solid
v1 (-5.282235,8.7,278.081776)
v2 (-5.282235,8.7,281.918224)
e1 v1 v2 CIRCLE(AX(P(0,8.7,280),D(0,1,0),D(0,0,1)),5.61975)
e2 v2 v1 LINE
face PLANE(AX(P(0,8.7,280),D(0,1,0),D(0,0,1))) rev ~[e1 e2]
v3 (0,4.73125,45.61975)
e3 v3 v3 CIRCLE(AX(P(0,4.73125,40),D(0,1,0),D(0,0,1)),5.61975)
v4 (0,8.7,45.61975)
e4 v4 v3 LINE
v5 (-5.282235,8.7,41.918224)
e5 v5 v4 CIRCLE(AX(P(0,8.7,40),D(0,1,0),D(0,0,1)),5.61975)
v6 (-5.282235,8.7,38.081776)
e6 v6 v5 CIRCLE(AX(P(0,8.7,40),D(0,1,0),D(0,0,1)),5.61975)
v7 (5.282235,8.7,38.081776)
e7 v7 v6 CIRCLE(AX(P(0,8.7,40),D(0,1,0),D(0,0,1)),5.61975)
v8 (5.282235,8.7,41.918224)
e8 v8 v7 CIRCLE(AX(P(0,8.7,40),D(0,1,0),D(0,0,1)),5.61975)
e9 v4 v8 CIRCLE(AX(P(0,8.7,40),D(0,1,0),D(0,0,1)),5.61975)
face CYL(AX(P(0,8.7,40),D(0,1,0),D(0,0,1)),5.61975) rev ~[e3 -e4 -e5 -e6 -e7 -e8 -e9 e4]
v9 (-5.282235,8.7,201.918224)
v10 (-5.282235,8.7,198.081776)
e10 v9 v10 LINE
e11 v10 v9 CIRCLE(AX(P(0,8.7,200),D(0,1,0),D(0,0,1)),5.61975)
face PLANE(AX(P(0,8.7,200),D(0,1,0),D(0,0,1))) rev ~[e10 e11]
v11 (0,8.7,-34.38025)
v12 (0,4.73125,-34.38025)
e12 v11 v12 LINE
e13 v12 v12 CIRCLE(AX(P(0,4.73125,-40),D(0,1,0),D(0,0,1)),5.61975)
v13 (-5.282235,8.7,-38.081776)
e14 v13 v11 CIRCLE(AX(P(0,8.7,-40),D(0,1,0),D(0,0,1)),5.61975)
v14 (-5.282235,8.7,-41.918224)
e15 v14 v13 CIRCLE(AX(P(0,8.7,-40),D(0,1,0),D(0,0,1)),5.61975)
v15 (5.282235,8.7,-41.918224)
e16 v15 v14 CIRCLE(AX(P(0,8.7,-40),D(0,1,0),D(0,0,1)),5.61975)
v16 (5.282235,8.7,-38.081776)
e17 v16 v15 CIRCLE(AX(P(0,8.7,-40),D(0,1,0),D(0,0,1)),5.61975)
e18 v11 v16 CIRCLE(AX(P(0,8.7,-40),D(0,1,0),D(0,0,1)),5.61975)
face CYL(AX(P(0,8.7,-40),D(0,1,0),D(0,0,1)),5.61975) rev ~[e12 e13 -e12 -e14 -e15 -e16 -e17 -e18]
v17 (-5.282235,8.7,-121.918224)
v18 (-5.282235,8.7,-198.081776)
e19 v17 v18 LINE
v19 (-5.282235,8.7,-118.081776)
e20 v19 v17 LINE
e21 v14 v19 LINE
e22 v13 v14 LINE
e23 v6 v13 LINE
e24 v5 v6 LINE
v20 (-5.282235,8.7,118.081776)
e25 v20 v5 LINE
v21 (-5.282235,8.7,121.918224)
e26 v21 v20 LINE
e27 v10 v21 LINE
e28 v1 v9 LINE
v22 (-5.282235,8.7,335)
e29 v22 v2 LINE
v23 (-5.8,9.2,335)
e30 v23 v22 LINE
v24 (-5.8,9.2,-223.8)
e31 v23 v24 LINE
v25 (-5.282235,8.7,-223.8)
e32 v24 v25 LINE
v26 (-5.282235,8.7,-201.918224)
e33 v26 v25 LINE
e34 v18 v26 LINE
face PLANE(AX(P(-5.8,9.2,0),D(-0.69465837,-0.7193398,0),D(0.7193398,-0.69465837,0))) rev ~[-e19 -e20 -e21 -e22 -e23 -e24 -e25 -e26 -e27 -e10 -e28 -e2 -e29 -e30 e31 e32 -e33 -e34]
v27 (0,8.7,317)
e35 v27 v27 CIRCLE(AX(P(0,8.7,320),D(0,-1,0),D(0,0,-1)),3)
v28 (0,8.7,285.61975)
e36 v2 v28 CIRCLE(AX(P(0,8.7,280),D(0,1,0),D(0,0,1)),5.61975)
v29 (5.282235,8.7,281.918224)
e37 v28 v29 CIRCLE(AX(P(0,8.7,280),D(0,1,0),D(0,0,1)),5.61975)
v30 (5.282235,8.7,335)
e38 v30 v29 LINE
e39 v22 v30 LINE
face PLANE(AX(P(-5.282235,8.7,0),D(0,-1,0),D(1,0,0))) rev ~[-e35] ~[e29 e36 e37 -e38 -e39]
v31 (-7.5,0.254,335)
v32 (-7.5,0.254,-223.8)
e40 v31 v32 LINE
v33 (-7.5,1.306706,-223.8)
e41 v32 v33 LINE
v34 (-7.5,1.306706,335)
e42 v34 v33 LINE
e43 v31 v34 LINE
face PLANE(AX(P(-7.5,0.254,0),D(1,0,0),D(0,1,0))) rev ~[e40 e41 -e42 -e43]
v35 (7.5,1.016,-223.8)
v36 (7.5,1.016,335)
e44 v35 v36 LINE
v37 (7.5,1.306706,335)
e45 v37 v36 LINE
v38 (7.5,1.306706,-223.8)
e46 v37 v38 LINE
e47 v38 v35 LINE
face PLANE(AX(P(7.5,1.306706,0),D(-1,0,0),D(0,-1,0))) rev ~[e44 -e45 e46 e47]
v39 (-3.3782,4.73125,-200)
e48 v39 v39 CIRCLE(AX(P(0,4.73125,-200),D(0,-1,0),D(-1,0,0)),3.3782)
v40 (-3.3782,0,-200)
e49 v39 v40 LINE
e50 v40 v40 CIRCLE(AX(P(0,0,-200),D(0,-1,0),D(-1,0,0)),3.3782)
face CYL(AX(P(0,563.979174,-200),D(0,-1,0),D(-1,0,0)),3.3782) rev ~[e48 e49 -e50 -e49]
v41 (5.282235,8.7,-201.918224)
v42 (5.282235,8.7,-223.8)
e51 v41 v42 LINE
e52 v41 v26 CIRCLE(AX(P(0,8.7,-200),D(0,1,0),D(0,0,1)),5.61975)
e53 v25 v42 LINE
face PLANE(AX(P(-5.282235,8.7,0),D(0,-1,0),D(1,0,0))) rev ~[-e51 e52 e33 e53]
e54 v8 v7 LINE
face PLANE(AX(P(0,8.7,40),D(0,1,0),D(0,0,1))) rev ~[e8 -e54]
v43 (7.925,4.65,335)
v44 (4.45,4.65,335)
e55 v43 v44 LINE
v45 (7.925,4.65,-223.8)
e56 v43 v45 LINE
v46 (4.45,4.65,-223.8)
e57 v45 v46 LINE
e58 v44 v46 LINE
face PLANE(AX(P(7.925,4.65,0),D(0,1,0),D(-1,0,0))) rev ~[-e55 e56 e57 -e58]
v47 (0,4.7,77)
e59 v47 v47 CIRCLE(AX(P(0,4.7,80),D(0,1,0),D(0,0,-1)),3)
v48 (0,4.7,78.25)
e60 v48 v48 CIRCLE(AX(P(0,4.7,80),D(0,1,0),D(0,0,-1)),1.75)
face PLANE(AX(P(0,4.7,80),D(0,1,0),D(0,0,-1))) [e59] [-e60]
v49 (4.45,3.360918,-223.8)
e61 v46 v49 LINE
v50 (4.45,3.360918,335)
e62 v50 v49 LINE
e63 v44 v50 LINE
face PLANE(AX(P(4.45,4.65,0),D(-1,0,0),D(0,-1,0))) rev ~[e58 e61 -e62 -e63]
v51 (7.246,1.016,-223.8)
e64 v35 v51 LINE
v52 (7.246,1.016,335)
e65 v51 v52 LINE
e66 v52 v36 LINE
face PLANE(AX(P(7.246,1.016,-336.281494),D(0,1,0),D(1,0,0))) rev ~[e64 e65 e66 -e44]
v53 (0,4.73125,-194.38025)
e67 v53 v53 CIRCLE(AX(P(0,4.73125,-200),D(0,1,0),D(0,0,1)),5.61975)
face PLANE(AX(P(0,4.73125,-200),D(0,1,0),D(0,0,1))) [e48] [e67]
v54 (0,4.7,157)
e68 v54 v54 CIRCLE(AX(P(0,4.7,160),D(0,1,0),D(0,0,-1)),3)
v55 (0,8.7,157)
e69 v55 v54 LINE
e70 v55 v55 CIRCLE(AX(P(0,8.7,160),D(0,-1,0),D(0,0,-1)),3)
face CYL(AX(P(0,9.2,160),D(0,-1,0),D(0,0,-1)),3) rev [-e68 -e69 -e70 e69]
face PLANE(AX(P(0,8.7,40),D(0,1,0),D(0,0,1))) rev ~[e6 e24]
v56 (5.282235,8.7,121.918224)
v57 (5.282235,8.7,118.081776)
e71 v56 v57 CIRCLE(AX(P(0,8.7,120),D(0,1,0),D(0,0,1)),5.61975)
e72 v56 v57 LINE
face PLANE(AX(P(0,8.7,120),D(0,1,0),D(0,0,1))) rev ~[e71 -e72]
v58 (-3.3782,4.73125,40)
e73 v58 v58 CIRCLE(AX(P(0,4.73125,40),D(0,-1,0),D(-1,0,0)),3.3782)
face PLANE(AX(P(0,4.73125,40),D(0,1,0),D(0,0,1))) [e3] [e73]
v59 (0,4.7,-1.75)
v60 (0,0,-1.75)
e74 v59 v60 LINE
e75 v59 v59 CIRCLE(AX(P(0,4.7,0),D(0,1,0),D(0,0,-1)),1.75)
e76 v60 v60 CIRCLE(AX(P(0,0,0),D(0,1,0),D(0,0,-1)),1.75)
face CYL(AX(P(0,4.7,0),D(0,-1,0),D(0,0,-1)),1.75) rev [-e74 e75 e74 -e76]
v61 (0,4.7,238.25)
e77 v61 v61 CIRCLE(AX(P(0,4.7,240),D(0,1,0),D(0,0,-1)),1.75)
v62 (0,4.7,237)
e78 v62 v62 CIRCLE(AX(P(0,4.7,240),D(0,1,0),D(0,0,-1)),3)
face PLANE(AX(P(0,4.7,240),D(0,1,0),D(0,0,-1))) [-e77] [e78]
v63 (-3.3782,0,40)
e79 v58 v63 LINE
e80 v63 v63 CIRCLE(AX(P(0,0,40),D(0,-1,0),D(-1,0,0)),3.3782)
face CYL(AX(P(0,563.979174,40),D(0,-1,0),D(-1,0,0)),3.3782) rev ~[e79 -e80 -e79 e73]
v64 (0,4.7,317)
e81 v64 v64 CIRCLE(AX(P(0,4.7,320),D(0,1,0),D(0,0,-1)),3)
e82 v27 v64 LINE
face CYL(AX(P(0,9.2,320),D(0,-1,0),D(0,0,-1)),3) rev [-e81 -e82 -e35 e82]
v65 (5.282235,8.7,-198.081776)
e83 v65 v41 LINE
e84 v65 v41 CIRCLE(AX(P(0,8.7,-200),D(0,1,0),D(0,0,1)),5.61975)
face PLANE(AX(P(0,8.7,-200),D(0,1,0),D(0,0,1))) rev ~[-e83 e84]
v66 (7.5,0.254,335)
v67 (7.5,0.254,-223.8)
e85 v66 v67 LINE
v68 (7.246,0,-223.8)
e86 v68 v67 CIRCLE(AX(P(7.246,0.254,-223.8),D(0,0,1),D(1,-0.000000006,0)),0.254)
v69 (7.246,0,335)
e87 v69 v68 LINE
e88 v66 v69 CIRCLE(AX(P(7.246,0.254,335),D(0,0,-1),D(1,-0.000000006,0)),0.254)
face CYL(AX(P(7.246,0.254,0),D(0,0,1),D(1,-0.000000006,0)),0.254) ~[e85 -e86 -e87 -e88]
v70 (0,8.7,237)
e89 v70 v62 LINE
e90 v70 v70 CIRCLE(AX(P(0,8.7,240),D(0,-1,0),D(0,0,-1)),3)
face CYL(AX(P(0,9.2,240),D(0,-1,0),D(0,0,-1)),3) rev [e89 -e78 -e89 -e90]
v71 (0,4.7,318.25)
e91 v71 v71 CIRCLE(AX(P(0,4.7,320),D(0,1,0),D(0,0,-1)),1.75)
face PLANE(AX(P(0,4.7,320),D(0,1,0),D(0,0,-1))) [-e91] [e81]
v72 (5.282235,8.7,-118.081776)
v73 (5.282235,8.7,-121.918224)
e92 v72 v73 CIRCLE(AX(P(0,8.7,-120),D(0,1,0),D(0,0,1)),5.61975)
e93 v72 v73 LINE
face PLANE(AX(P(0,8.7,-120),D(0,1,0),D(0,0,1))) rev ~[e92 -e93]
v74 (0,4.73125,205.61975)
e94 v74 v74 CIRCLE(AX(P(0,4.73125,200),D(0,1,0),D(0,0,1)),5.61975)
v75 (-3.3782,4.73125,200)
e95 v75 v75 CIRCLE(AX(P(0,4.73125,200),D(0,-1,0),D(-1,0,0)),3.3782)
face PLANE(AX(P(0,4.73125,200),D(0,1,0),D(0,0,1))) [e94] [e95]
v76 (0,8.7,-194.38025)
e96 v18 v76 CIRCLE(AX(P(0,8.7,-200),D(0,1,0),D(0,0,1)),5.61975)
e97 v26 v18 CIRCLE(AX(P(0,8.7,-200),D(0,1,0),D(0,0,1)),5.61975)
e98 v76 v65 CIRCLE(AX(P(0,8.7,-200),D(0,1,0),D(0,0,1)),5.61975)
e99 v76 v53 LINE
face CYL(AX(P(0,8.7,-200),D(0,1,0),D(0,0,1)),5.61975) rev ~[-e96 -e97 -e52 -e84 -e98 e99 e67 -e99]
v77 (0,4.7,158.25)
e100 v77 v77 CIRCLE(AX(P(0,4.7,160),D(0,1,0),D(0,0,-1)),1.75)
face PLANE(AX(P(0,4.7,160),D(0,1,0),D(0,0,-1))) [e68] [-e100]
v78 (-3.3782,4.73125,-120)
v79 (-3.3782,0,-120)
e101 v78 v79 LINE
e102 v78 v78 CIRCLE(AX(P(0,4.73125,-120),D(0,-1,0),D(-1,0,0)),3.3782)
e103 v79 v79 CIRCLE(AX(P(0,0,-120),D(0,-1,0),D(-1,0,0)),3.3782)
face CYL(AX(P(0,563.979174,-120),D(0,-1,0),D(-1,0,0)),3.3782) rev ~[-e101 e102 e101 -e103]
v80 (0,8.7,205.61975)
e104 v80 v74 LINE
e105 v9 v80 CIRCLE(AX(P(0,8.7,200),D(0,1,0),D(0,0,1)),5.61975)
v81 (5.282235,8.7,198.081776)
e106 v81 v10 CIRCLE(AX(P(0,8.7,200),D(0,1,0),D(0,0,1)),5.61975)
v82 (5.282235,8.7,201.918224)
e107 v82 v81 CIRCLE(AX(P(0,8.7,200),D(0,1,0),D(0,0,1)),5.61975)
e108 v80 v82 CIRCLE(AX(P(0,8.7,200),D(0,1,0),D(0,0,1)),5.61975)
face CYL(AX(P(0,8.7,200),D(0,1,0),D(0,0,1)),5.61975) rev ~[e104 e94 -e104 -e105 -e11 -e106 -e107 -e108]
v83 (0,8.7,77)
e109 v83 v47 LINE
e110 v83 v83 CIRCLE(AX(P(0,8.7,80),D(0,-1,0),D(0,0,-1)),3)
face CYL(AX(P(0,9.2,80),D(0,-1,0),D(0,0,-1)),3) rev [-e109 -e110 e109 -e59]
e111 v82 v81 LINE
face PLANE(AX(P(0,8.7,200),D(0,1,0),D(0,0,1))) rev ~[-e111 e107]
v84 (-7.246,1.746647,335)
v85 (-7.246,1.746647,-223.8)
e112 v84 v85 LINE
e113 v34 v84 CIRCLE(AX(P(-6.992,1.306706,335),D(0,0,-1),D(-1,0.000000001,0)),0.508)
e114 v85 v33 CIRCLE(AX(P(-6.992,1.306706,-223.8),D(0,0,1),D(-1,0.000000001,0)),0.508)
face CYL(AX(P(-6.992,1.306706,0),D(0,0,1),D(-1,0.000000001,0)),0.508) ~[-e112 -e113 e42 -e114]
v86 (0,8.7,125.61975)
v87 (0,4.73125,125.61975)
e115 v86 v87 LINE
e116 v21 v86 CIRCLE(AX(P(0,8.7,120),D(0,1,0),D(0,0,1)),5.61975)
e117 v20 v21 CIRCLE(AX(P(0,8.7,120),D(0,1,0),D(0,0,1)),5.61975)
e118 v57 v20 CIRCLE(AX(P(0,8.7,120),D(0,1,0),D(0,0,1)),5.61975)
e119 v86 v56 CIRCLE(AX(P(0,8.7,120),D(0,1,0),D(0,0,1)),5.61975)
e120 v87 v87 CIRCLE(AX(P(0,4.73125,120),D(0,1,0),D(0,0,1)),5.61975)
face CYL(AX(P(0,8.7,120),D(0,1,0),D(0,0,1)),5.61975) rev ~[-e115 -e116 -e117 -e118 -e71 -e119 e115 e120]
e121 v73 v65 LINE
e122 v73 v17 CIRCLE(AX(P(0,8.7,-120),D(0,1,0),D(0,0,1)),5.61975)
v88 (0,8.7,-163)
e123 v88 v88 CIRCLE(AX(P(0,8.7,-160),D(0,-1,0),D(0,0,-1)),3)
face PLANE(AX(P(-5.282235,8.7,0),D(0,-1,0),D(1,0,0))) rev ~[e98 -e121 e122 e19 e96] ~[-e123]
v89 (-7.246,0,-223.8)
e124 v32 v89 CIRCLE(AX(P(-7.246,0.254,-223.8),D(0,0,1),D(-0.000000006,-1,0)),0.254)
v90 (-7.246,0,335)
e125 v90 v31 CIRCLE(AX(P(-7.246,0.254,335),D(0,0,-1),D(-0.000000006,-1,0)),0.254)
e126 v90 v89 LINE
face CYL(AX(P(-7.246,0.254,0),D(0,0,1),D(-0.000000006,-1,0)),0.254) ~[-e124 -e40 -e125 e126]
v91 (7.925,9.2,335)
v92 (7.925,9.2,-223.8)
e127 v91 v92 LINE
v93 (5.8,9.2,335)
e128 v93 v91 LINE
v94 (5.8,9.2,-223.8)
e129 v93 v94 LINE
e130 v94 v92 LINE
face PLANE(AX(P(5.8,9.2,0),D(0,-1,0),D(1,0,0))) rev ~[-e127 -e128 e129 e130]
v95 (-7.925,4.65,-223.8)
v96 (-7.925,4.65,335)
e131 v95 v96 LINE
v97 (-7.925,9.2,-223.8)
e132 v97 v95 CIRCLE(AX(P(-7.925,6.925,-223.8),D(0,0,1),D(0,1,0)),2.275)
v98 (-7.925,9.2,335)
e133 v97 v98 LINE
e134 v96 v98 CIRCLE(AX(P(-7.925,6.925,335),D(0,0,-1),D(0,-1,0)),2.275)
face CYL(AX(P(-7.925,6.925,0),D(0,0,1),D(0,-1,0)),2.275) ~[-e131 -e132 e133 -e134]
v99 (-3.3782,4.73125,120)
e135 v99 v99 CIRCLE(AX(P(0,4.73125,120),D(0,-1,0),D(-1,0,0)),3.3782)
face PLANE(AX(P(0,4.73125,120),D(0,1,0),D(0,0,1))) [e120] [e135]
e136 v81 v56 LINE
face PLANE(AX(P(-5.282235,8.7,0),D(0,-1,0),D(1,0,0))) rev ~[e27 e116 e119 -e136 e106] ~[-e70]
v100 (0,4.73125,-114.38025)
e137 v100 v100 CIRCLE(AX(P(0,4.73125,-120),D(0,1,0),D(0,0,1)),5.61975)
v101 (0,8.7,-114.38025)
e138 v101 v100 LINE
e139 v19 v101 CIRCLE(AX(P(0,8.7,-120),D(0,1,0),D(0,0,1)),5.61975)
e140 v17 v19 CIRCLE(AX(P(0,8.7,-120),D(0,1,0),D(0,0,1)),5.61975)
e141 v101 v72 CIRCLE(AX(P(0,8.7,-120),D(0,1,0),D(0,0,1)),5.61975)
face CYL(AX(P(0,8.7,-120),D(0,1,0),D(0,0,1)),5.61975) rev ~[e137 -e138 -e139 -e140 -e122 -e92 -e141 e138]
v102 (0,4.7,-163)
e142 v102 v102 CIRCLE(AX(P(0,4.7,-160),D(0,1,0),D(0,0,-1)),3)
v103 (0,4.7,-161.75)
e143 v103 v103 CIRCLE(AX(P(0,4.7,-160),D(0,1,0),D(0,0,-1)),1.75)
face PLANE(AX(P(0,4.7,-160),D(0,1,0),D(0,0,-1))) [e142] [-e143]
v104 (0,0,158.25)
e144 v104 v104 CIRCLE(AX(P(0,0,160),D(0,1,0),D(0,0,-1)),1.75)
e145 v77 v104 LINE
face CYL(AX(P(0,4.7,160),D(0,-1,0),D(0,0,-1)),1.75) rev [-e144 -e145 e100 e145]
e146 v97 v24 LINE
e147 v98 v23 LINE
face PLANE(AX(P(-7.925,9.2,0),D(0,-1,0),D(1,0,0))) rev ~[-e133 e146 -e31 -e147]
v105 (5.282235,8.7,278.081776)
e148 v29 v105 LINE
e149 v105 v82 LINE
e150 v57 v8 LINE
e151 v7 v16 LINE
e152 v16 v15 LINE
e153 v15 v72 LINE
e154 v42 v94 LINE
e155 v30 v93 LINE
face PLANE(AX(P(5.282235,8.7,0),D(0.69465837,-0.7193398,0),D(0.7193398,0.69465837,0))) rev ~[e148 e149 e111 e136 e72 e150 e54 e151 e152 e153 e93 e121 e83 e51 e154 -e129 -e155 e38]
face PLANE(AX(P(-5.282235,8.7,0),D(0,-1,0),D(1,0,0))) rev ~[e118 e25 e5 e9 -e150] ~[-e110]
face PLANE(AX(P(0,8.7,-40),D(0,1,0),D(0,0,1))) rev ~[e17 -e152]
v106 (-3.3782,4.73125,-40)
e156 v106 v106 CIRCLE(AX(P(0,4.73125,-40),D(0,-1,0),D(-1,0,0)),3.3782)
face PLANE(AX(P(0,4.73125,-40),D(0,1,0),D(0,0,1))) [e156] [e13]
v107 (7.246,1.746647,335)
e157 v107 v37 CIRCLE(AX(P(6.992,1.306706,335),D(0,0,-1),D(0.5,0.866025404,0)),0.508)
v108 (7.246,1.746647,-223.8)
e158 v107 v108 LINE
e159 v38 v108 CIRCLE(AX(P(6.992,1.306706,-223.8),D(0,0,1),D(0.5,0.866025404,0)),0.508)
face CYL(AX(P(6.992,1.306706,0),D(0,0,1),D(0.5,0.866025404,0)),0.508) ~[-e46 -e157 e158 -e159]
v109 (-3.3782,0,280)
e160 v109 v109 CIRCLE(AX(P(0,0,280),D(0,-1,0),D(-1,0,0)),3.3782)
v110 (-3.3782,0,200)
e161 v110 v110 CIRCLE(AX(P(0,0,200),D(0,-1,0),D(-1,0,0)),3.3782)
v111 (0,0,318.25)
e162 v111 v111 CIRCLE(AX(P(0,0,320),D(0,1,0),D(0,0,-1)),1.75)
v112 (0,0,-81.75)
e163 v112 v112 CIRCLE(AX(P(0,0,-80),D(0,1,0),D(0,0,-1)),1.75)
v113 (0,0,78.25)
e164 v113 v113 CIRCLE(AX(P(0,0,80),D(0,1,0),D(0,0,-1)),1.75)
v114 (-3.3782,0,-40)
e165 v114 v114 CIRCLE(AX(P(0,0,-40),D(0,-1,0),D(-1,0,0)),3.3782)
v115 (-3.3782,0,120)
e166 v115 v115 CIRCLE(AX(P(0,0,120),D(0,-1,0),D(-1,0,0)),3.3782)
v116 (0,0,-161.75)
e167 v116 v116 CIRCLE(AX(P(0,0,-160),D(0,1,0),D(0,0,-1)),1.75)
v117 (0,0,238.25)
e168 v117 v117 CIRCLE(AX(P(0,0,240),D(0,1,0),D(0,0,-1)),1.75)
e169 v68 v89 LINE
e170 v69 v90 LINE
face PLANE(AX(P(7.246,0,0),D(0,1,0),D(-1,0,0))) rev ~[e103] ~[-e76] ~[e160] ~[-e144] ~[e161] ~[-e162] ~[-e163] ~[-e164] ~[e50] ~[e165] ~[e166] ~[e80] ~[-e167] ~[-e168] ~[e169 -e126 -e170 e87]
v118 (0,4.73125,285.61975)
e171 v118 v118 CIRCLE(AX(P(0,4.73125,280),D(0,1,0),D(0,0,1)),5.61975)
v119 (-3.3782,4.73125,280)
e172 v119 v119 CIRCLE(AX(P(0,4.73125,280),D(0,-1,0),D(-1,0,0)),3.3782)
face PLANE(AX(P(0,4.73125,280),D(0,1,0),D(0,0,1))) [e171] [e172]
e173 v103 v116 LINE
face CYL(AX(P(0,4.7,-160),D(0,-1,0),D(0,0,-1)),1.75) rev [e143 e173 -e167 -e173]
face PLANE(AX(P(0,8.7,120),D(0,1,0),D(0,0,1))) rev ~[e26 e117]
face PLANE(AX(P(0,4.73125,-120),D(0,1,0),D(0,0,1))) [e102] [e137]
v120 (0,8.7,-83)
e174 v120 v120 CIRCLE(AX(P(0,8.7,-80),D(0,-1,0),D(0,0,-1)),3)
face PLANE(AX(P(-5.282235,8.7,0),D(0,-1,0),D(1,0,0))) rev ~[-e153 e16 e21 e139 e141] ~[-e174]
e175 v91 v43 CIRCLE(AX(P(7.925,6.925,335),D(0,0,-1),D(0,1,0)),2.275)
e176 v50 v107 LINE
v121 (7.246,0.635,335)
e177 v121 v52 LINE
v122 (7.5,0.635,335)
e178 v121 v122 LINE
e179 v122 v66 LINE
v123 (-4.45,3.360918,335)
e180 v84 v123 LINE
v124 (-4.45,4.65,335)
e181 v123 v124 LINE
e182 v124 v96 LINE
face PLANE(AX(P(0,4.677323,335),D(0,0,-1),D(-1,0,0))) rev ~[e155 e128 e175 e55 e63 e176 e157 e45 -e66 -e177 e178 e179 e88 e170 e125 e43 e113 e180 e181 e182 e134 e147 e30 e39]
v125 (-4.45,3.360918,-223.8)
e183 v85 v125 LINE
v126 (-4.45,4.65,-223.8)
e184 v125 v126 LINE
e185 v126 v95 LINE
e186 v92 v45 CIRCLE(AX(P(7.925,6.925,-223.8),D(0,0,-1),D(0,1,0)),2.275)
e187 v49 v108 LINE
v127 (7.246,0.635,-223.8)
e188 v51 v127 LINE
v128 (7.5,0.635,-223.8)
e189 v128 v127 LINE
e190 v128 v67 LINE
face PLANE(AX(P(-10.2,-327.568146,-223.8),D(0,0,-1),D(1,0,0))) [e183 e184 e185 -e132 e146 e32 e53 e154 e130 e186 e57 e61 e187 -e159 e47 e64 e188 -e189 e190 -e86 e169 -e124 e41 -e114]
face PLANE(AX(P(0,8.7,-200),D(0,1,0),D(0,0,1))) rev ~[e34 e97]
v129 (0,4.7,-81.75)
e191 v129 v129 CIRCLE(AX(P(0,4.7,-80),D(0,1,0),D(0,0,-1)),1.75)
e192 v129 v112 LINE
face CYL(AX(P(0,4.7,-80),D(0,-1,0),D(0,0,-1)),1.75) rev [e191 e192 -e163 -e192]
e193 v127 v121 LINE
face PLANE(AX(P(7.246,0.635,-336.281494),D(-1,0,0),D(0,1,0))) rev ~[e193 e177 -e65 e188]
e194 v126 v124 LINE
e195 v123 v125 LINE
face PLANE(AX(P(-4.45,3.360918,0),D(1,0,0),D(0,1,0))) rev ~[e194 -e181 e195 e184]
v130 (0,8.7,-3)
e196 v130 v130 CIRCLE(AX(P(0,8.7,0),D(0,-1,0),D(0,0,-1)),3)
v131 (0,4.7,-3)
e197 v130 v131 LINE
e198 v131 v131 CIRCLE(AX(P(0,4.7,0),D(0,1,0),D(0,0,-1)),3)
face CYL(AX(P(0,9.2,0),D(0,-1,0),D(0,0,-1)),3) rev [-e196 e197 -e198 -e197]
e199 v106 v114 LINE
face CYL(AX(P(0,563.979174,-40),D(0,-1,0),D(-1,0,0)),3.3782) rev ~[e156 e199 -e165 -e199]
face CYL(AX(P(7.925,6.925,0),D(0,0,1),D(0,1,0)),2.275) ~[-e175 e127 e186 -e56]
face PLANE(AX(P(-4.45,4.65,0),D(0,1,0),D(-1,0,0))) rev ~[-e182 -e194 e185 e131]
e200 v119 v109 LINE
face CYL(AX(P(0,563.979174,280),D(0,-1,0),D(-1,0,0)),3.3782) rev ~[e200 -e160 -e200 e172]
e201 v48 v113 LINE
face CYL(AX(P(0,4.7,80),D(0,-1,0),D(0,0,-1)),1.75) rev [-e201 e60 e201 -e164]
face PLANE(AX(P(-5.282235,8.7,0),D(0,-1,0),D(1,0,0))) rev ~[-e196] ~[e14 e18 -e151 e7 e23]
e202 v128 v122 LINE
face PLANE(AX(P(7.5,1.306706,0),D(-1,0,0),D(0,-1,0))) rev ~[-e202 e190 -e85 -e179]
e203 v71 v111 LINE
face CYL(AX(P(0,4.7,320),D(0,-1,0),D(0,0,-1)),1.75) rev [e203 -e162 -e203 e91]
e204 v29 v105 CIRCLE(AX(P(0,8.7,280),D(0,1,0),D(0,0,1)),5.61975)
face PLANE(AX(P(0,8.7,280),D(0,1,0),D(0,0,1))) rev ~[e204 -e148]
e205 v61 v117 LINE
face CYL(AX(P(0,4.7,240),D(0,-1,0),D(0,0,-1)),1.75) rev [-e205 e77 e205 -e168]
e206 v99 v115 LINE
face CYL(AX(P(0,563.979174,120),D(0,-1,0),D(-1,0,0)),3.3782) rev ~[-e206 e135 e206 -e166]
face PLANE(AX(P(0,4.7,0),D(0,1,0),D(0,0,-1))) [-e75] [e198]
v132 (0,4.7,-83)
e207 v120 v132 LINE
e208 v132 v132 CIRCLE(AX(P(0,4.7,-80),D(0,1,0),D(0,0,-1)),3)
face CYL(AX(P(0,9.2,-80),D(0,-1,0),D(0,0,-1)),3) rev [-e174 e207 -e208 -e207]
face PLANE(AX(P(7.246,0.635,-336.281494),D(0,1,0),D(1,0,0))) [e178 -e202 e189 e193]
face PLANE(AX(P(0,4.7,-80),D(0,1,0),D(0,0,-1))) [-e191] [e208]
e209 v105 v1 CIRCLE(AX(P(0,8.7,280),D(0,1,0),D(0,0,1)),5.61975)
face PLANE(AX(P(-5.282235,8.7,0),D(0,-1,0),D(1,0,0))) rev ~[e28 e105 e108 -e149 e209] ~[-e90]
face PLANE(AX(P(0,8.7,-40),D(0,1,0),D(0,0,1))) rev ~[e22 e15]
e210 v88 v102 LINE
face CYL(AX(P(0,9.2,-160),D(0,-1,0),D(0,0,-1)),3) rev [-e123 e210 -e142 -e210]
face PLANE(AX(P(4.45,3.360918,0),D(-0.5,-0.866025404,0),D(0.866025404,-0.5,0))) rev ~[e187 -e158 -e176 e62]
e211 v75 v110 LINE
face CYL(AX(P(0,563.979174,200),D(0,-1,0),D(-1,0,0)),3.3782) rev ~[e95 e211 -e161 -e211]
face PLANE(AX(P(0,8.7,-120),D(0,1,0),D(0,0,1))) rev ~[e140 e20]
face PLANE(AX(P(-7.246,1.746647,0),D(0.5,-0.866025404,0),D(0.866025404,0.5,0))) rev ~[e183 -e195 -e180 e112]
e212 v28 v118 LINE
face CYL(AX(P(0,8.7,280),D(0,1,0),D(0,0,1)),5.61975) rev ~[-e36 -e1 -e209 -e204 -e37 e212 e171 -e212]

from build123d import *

# Parameters (mm, degrees)
BOSS_EXTRUDE1_DEPTH     = 335
CUT_EXTRUDE1_DEPTH      = 336.281493674
CUT_EXTRUDE1_DEPTH_BACK = 336.281493674
SKETCH4_W               = 0.254
SKETCH4_H               = 0.381
LPATTERN2_COUNT         = 17
LPATTERN2_PITCH         = 40
CUT_EXTRUDE2_DEPTH      = 336.268146414
CUT_EXTRUDE2_DEPTH_BACK = 336.268146414
SKETCH9_W               = 20.4
SKETCH9_H               = 111.2
SKETCH10_R              = 5.61975
CUT_EXTRUDE3_DEPTH      = 3.96875
F_1_4_CLEARANCE_HOLE1_D = 6.7564
LPATTERN3_COUNT         = 7
LPATTERN3_PITCH         = 80


with BuildPart() as part:
    # Sketch1 → Boss-Extrude1 (new, symmetric)
    with BuildSketch(Plane.XY):
        with BuildLine():
            Line((-7.925, 9.2), (-5.8, 9.2))
            Line((-5.8, 9.2), (-5.282234843, 8.7))
            Line((-5.282234843, 8.7), (5.282234843, 8.7))
            Line((5.282234843, 8.7), (5.8, 9.2))
            Line((5.8, 9.2), (7.925, 9.2))
            ThreePointArc((7.925, 9.2), (10.2, 6.925), (7.925, 4.65))
            Line((7.925, 4.65), (4.45, 4.65))
            Line((4.45, 4.65), (4.45, 3.360918321))
            Line((4.45, 3.360918321), (7.246, 1.746646968))
            ThreePointArc((7.246, 1.746646968), (7.431940905, 1.560706063), (7.5, 1.306706063))
            Line((7.5, 1.306706063), (7.5, 0.254))
            ThreePointArc((7.5, 0.254), (7.425605122, 0.074394878), (7.246, 0))
            Line((7.246, 0), (-7.246, 0))
            ThreePointArc((-7.246, 0), (-7.425605122, 0.074394878), (-7.5, 0.254))
            Line((-7.5, 0.254), (-7.5, 1.306706063))
            ThreePointArc((-7.5, 1.306706063), (-7.431940905, 1.560706063), (-7.246, 1.746646968))
            Line((-7.246, 1.746646968), (-4.45, 3.360918321))
            Line((-4.45, 3.360918321), (-4.45, 4.65))
            Line((-4.45, 4.65), (-7.925, 4.65))
            ThreePointArc((-7.925, 4.65), (-10.2, 6.925), (-7.925, 9.2))
        make_face()
    extrude(amount=BOSS_EXTRUDE1_DEPTH, both=True)

    # Sketch4 → Cut-Extrude1 (cut, two sides: drawn at the far end of the back side and taken through both)
    with BuildSketch(Plane.XY.offset(-CUT_EXTRUDE1_DEPTH_BACK)):
        with Locations((7.373, 0.8255)):
            Rectangle(SKETCH4_W, SKETCH4_H)
    extrude(amount=CUT_EXTRUDE1_DEPTH + CUT_EXTRUDE1_DEPTH_BACK, mode=Mode.SUBTRACT)

    # Sketch2 → Cut-Revolve1 (revolve, cut)
    with BuildSketch(Plane(origin=(0, 0, 0), x_dir=(0, 0, -1), z_dir=(1, 0, 0)), mode=Mode.PRIVATE) as cut_revolve1_sk:
        Polygon((-323, 8.7), (-323, 4.7), (-321.75, 4.7), (-321.75, 0), (-320, 0), (-320, 8.7), (-320, 9.2), (-323, 9.2), align=None)
    cut_revolve1 = revolve(cut_revolve1_sk.sketch.rotate(Axis((0, 0, 320), (0, 1, 0)), 180), axis=Axis((0, 0, 320), (0, 1, 0)), mode=Mode.SUBTRACT)

    # LPattern2: Cut-Revolve1 ×17
    with Locations(*[(0, 0, -i * LPATTERN2_PITCH) for i in range(1, LPATTERN2_COUNT)]):
        add(cut_revolve1, mode=Mode.SUBTRACT)

    # Sketch9 → Cut-Extrude2 (cut, two sides: drawn at the far end of the back side and taken through both)
    with BuildSketch(Plane(origin=(0, 8.7, 0), x_dir=(1, 0, 0), z_dir=(0, 1, 0)).offset(-CUT_EXTRUDE2_DEPTH_BACK)):
        with Locations((0, 279.4)):
            Rectangle(SKETCH9_W, SKETCH9_H)
    extrude(amount=CUT_EXTRUDE2_DEPTH + CUT_EXTRUDE2_DEPTH_BACK, mode=Mode.SUBTRACT)

    # Sketch10 → Cut-Extrude3 (cut)
    with BuildSketch(Plane(origin=(0, 8.7, 0), x_dir=(1, 0, 0), z_dir=(0, 1, 0))):
        with Locations(Location((0, 200, 0), (0, 0, 270))):
            Circle(SKETCH10_R)
    cut_extrude3 = extrude(amount=-CUT_EXTRUDE3_DEPTH, mode=Mode.SUBTRACT)

    # 1/4 Clearance Hole1 (through all)
    with Locations(Plane(origin=(0, 4.73125, 0), x_dir=(1, 0, 0), z_dir=(0, 1, 0))):
        with Locations((0, 200)):
            f_1_4_clearance_hole1 = Hole(F_1_4_CLEARANCE_HOLE1_D / 2)

    # LPattern3: Cut-Extrude3, 1/4 Clearance Hole1 ×7
    with Locations(*[(0, 0, i * LPATTERN3_PITCH) for i in range(1, LPATTERN3_COUNT)]):
        add(cut_extrude3, mode=Mode.SUBTRACT)
        add(f_1_4_clearance_hole1, mode=Mode.SUBTRACT)


solid = part.part
